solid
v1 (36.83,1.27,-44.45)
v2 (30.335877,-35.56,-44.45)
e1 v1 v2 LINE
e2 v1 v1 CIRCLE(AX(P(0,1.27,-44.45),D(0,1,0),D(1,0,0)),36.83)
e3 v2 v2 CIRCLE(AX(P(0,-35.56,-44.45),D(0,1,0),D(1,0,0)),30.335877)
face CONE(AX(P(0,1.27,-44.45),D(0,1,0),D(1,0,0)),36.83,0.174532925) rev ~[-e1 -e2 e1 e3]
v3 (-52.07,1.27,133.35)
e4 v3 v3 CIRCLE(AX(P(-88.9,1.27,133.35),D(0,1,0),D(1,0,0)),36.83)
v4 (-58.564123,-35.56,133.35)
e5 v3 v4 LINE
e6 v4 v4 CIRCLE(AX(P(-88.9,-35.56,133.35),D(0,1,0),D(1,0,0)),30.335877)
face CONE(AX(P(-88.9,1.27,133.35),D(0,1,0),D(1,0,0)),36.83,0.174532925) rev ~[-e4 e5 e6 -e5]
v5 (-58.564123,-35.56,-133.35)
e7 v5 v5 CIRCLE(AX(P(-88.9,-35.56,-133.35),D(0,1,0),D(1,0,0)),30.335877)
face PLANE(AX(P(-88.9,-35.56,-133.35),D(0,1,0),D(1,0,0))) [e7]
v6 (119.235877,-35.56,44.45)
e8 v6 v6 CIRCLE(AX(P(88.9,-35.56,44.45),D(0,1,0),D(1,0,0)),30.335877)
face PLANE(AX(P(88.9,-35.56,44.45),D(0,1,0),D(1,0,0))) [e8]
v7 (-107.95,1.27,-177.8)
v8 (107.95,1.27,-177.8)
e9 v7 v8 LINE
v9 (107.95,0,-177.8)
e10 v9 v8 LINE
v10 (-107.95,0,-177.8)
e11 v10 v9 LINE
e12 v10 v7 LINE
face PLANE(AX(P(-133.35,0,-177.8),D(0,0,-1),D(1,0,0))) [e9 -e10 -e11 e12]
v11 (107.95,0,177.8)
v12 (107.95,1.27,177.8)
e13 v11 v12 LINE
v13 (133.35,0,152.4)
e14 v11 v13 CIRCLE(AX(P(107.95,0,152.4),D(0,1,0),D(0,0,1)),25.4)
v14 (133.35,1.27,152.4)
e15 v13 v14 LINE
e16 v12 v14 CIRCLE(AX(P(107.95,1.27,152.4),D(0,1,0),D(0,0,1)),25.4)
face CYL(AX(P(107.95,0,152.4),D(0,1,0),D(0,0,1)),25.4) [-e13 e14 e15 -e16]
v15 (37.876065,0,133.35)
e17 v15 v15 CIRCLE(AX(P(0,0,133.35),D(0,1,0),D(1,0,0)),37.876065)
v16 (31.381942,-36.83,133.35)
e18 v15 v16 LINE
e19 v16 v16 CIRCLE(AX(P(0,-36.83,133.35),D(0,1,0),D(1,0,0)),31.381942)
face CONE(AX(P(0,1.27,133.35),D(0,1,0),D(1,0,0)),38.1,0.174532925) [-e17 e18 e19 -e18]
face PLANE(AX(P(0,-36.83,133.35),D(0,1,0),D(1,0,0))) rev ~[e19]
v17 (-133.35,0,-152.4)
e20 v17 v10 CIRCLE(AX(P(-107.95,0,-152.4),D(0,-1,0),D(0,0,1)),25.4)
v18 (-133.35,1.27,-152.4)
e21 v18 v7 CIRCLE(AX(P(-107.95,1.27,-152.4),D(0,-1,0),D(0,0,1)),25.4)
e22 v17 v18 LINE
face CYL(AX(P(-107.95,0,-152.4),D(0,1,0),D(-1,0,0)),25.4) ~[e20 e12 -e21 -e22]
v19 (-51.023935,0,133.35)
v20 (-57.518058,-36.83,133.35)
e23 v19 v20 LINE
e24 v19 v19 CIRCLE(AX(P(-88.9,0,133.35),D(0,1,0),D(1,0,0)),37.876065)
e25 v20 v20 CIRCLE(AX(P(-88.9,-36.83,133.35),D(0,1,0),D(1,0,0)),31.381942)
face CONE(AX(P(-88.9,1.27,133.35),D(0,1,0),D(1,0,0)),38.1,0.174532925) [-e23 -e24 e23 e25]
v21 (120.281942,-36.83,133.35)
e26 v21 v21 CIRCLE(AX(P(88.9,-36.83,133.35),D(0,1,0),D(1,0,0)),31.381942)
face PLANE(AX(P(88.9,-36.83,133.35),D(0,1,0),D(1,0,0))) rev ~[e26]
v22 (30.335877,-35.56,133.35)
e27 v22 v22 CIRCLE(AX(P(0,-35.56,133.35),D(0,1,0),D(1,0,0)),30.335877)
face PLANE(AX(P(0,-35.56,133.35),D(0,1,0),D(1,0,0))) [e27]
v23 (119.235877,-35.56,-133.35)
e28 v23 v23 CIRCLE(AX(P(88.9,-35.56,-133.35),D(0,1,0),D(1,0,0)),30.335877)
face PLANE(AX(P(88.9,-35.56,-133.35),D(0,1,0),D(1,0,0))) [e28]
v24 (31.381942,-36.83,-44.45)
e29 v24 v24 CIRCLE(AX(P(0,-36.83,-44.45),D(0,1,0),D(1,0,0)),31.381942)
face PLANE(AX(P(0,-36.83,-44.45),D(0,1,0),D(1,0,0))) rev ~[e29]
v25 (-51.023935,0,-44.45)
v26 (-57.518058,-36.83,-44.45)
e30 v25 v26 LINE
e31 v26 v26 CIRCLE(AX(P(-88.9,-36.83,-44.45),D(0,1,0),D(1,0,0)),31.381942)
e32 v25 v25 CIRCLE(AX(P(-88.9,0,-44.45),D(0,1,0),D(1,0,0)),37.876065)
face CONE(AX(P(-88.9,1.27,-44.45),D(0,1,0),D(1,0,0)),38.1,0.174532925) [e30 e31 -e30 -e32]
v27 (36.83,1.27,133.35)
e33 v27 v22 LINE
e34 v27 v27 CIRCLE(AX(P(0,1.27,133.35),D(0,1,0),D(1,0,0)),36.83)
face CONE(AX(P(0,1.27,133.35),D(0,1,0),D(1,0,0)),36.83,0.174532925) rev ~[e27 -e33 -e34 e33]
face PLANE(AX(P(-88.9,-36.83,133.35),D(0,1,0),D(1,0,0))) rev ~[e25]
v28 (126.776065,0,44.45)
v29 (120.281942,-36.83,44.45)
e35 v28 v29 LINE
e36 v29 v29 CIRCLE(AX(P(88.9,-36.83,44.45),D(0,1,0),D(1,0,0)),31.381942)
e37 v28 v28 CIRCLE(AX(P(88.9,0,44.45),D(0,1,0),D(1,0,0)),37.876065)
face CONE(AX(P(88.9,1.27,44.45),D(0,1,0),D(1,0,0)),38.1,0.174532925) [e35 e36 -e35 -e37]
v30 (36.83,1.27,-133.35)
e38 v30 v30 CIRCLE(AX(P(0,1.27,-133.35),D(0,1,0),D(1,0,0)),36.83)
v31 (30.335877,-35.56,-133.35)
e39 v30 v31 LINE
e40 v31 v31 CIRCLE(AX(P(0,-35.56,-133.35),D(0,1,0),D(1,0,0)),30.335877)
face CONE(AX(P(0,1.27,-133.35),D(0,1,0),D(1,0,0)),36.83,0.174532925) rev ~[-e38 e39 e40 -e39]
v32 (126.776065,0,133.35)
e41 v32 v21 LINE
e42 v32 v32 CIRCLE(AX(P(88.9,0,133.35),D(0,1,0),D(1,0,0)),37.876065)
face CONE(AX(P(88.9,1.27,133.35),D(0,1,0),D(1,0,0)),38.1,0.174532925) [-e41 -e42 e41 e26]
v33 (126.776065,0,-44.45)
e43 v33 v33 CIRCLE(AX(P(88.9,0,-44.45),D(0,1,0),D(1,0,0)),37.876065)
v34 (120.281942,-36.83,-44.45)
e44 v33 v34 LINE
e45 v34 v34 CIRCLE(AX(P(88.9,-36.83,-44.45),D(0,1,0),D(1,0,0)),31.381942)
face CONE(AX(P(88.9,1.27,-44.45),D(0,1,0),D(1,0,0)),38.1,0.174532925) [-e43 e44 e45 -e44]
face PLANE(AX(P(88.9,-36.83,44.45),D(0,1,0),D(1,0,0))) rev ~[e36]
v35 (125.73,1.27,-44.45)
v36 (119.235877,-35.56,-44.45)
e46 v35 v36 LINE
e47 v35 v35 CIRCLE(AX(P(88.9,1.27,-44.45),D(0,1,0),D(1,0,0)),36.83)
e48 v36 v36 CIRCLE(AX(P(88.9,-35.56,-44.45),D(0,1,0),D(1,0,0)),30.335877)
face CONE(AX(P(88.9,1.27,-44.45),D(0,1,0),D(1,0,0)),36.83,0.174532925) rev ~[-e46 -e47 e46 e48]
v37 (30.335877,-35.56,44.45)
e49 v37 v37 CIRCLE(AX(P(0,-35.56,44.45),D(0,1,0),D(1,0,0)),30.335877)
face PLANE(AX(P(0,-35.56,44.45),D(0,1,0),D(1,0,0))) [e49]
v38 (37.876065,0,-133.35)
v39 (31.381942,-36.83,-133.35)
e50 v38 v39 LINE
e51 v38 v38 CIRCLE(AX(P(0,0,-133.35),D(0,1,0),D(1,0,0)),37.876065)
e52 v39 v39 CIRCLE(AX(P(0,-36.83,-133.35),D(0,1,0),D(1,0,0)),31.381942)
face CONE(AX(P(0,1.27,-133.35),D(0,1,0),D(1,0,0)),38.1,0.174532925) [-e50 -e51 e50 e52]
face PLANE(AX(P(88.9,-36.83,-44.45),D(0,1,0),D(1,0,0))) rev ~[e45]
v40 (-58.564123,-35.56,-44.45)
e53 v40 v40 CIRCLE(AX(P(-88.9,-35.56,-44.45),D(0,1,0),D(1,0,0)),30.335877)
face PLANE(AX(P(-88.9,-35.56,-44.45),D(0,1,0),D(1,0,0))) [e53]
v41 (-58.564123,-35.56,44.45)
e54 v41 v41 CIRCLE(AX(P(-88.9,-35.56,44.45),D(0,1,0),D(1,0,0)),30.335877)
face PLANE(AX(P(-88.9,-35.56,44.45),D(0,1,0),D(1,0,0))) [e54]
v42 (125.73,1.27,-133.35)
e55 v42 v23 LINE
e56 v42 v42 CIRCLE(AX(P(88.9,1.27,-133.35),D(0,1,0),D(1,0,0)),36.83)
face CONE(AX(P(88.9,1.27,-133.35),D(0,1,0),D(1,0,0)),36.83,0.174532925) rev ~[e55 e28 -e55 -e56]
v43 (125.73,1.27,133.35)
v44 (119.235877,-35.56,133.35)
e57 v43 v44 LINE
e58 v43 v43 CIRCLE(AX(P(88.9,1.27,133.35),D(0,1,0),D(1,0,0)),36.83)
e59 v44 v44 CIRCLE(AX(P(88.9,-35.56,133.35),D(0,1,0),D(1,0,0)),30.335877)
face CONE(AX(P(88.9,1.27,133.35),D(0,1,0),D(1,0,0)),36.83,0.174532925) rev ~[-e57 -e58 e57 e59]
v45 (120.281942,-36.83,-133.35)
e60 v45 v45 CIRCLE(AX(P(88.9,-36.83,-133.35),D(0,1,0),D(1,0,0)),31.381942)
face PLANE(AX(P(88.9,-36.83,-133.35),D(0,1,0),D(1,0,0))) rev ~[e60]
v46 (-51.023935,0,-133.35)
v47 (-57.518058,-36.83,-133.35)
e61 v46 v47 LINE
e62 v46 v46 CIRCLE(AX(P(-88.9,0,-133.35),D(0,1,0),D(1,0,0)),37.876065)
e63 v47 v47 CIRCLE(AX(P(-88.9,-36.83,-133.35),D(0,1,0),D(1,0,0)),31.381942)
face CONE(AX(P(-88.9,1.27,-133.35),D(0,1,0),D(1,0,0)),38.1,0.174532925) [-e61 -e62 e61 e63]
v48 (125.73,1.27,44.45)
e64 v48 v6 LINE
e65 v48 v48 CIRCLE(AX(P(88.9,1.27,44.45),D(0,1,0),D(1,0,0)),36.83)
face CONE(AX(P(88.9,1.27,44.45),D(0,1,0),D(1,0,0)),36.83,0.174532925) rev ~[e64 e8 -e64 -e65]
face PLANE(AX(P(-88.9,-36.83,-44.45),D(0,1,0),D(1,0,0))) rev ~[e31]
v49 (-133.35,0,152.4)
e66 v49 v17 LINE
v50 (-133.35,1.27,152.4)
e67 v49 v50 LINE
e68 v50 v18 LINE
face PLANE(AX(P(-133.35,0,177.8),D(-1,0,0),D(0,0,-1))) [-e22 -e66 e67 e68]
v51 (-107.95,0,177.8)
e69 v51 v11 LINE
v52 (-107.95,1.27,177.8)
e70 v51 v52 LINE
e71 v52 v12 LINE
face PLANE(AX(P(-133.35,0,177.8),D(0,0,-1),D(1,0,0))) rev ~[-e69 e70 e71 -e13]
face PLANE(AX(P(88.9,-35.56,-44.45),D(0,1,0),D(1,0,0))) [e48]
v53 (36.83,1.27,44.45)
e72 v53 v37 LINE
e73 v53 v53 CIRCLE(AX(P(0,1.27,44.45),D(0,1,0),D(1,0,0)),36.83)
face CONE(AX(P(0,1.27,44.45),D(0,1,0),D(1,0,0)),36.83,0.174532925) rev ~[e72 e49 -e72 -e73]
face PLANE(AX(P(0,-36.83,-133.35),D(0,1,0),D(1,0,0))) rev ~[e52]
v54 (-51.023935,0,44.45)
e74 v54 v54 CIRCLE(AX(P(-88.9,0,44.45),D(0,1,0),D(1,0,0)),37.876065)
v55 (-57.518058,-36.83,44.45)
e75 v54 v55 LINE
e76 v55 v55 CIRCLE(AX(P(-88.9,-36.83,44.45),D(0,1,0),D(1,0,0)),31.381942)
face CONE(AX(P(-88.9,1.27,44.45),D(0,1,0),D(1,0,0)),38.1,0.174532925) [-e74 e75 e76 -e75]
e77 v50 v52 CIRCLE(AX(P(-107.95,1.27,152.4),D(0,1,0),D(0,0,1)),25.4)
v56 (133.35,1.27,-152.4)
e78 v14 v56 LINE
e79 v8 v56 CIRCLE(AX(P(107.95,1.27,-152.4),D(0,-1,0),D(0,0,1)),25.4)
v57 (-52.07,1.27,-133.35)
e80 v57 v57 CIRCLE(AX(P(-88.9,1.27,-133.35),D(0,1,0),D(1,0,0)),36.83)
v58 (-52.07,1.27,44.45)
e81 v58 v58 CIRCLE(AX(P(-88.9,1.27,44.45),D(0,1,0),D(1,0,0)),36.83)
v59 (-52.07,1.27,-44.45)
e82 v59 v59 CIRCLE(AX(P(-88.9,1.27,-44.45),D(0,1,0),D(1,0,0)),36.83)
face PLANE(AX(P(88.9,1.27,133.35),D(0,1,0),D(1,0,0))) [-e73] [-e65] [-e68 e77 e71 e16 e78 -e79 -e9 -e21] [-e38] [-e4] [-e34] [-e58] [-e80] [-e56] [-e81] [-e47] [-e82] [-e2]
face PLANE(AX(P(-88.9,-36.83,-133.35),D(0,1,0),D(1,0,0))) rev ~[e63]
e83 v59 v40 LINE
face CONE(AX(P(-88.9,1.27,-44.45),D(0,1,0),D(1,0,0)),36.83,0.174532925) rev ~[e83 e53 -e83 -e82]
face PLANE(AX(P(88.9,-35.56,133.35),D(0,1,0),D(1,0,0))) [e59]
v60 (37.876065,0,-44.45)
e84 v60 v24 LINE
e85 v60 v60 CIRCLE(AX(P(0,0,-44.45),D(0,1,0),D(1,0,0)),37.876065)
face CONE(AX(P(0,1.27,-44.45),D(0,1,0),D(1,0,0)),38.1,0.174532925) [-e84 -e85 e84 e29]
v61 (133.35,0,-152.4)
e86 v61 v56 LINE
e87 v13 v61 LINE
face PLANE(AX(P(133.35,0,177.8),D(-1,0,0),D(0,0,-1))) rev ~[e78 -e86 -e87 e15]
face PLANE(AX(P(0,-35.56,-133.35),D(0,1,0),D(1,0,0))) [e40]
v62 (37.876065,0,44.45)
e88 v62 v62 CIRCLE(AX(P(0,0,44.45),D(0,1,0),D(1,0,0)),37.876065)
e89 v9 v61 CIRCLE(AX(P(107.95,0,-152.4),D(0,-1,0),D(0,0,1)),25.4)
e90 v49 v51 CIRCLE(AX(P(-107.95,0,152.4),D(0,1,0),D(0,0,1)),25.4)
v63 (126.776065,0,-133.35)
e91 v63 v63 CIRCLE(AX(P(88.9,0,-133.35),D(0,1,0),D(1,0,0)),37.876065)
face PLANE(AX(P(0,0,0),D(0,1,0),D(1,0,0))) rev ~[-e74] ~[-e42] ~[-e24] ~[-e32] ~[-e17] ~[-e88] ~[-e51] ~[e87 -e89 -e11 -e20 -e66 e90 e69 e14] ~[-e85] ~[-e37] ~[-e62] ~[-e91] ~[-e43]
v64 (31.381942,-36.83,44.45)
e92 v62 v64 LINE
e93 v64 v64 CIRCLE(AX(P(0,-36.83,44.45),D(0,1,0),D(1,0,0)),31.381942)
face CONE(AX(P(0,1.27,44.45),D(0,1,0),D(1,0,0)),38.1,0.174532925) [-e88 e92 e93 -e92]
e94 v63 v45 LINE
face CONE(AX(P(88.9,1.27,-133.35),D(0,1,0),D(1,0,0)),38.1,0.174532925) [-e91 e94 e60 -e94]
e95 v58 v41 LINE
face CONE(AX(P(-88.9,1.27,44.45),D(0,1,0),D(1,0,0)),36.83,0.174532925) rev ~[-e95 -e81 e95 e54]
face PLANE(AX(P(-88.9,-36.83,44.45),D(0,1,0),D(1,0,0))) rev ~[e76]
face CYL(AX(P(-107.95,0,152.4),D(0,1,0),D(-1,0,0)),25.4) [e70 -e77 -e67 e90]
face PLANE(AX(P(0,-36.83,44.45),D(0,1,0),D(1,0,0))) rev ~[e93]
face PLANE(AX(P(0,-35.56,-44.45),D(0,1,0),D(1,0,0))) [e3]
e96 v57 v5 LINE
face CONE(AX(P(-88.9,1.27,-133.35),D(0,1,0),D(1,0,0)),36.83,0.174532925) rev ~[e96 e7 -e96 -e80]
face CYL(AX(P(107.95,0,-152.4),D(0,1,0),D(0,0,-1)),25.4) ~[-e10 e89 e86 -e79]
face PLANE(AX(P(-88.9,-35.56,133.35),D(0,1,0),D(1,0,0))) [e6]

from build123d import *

# Parameters (mm, degrees)
SKETCH1_W                  = 266.7
SKETCH1_H                  = 355.6
BOSS_EXTRUDE1_DEPTH        = 1.27
SKETCH2_R                  = 38.1
BOSS_EXTRUDE3_DEPTH        = 38.1
BOSS_EXTRUDE3_DRAFT        = -10
SKETCH5_R                  = 36.83
CUT_EXTRUDE2_DEPTH         = 36.83
CUT_EXTRUDE2_DRAFT         = -10
LPATTERN1_COPY_1_SKETCH_R  = 38.1
LPATTERN1_COPY_1_DEPTH     = 38.1
LPATTERN1_COPY_1_DRAFT     = -10
LPATTERN1_COPY_2_SKETCH_R  = 38.1
LPATTERN1_COPY_2_DEPTH     = 38.1
LPATTERN1_COPY_2_DRAFT     = -10
LPATTERN1_COPY_3_SKETCH_R  = 38.1
LPATTERN1_COPY_3_DEPTH     = 38.1
LPATTERN1_COPY_3_DRAFT     = -10
LPATTERN1_COPY_4_SKETCH_R  = 38.1
LPATTERN1_COPY_4_DEPTH     = 38.1
LPATTERN1_COPY_4_DRAFT     = -10
LPATTERN1_COPY_5_SKETCH_R  = 38.1
LPATTERN1_COPY_5_DEPTH     = 38.1
LPATTERN1_COPY_5_DRAFT     = -10
LPATTERN1_COPY_6_SKETCH_R  = 38.1
LPATTERN1_COPY_6_DEPTH     = 38.1
LPATTERN1_COPY_6_DRAFT     = -10
LPATTERN1_COPY_7_SKETCH_R  = 38.1
LPATTERN1_COPY_7_DEPTH     = 38.1
LPATTERN1_COPY_7_DRAFT     = -10
LPATTERN1_COPY_8_SKETCH_R  = 38.1
LPATTERN1_COPY_8_DEPTH     = 38.1
LPATTERN1_COPY_8_DRAFT     = -10
LPATTERN1_COPY_9_SKETCH_R  = 38.1
LPATTERN1_COPY_9_DEPTH     = 38.1
LPATTERN1_COPY_9_DRAFT     = -10
LPATTERN1_COPY_10_SKETCH_R = 38.1
LPATTERN1_COPY_10_DEPTH    = 38.1
LPATTERN1_COPY_10_DRAFT    = -10
LPATTERN1_COPY_11_SKETCH_R = 38.1
LPATTERN1_COPY_11_DEPTH    = 38.1
LPATTERN1_COPY_11_DRAFT    = -10
LPATTERN1_COPY_12_SKETCH_R = 36.83
LPATTERN1_COPY_12_DEPTH    = 36.83
LPATTERN1_COPY_12_DRAFT    = -10
LPATTERN1_COPY_13_SKETCH_R = 36.83
LPATTERN1_COPY_13_DEPTH    = 36.83
LPATTERN1_COPY_13_DRAFT    = -10
LPATTERN1_COPY_14_SKETCH_R = 36.83
LPATTERN1_COPY_14_DEPTH    = 36.83
LPATTERN1_COPY_14_DRAFT    = -10
LPATTERN1_COPY_15_SKETCH_R = 36.83
LPATTERN1_COPY_15_DEPTH    = 36.83
LPATTERN1_COPY_15_DRAFT    = -10
LPATTERN1_COPY_16_SKETCH_R = 36.83
LPATTERN1_COPY_16_DEPTH    = 36.83
LPATTERN1_COPY_16_DRAFT    = -10
LPATTERN1_COPY_17_SKETCH_R = 36.83
LPATTERN1_COPY_17_DEPTH    = 36.83
LPATTERN1_COPY_17_DRAFT    = -10
LPATTERN1_COPY_18_SKETCH_R = 36.83
LPATTERN1_COPY_18_DEPTH    = 36.83
LPATTERN1_COPY_18_DRAFT    = -10
LPATTERN1_COPY_19_SKETCH_R = 36.83
LPATTERN1_COPY_19_DEPTH    = 36.83
LPATTERN1_COPY_19_DRAFT    = -10
LPATTERN1_COPY_20_SKETCH_R = 36.83
LPATTERN1_COPY_20_DEPTH    = 36.83
LPATTERN1_COPY_20_DRAFT    = -10
LPATTERN1_COPY_21_SKETCH_R = 36.83
LPATTERN1_COPY_21_DEPTH    = 36.83
LPATTERN1_COPY_21_DRAFT    = -10
LPATTERN1_COPY_22_SKETCH_R = 36.83
LPATTERN1_COPY_22_DEPTH    = 36.83
LPATTERN1_COPY_22_DRAFT    = -10
FILLET1_R                  = 25.4


with BuildPart() as part:
    # Sketch1 → Boss-Extrude1 (new body)
    with BuildSketch(Plane(origin=(0, 0, 0), x_dir=(1, 0, 0), z_dir=(0, 1, 0))):
        Rectangle(SKETCH1_W, SKETCH1_H)
    extrude(amount=BOSS_EXTRUDE1_DEPTH)


with BuildPart() as boss_extrude3_tool:
    # Sketch2 → Boss-Extrude3 (with draft: the straight prism first)
    with BuildSketch(Plane(origin=(0, 1.27, 0), x_dir=(1, 0, 0), z_dir=(0, 1, 0))):
        with Locations((-88.9, 133.35)):
            Circle(SKETCH2_R)
    extrude(amount=-BOSS_EXTRUDE3_DEPTH)
    # Boss-Extrude3: the draft: its side faces are tilted about the plane it starts from
    boss_extrude3_sides = [boss_extrude3_tool.faces().sort_by_distance(p)[0] for p in [
        (-127, -17.78, -133.35),
    ]]
    draft(boss_extrude3_sides, Plane(origin=(0, 1.27, 0), x_dir=(1, 0, 0), z_dir=(0, 1, 0)), BOSS_EXTRUDE3_DRAFT)


with BuildPart() as part_1:
    add(part.part)

    # Boss-Extrude3: add boss_extrude3_tool
    add(boss_extrude3_tool.part)


with BuildPart() as cut_extrude2_tool:
    # Sketch5 → Cut-Extrude2 (with draft: the straight prism first)
    with BuildSketch(Plane(origin=(0, 1.27, 0), x_dir=(1, 0, 0), z_dir=(0, 1, 0))):
        with Locations((-88.9, 133.35)):
            Circle(SKETCH5_R)
    extrude(amount=-CUT_EXTRUDE2_DEPTH)
    # Cut-Extrude2: the draft: its side faces are tilted about the plane it starts from
    cut_extrude2_sides = [cut_extrude2_tool.faces().sort_by_distance(p)[0] for p in [
        (-125.73, -17.145, -133.35),
    ]]
    draft(cut_extrude2_sides, Plane(origin=(0, 1.27, 0), x_dir=(1, 0, 0), z_dir=(0, 1, 0)), CUT_EXTRUDE2_DRAFT)


with BuildPart() as part_2:
    add(part_1.part)

    # Cut-Extrude2: cut by cut_extrude2_tool
    add(cut_extrude2_tool.part, mode=Mode.SUBTRACT)


with BuildPart() as lpattern1_copy_1_tool:
    # LPattern1 copy 1 sketch → LPattern1 copy 1 (with draft: the straight prism first)
    with BuildSketch(Plane(origin=(0, 1.27, 88.9), x_dir=(1, 0, 0), z_dir=(0, 1, 0))):
        with Locations((-88.9, 133.35)):
            Circle(LPATTERN1_COPY_1_SKETCH_R)
    extrude(amount=-LPATTERN1_COPY_1_DEPTH)
    # LPattern1 copy 1: the draft: its side faces are tilted about the plane it starts from
    lpattern1_copy_1_sides = [lpattern1_copy_1_tool.faces().sort_by_distance(p)[0] for p in [
        (-127, -17.78, -44.45),
    ]]
    draft(lpattern1_copy_1_sides, Plane(origin=(0, 1.27, 88.9), x_dir=(1, 0, 0), z_dir=(0, 1, 0)), LPATTERN1_COPY_1_DRAFT)


with BuildPart() as part_3:
    add(part_2.part)

    # LPattern1 copy 1: add lpattern1_copy_1_tool
    add(lpattern1_copy_1_tool.part)


with BuildPart() as lpattern1_copy_2_tool:
    # LPattern1 copy 2 sketch → LPattern1 copy 2 (with draft: the straight prism first)
    with BuildSketch(Plane(origin=(0, 1.27, 177.8), x_dir=(1, 0, 0), z_dir=(0, 1, 0))):
        with Locations((-88.9, 133.35)):
            Circle(LPATTERN1_COPY_2_SKETCH_R)
    extrude(amount=-LPATTERN1_COPY_2_DEPTH)
    # LPattern1 copy 2: the draft: its side faces are tilted about the plane it starts from
    lpattern1_copy_2_sides = [lpattern1_copy_2_tool.faces().sort_by_distance(p)[0] for p in [
        (-127, -17.78, 44.45),
    ]]
    draft(lpattern1_copy_2_sides, Plane(origin=(0, 1.27, 177.8), x_dir=(1, 0, 0), z_dir=(0, 1, 0)), LPATTERN1_COPY_2_DRAFT)


with BuildPart() as part_4:
    add(part_3.part)

    # LPattern1 copy 2: add lpattern1_copy_2_tool
    add(lpattern1_copy_2_tool.part)


with BuildPart() as lpattern1_copy_3_tool:
    # LPattern1 copy 3 sketch → LPattern1 copy 3 (with draft: the straight prism first)
    with BuildSketch(Plane(origin=(0, 1.27, 266.7), x_dir=(1, 0, 0), z_dir=(0, 1, 0))):
        with Locations((-88.9, 133.35)):
            Circle(LPATTERN1_COPY_3_SKETCH_R)
    extrude(amount=-LPATTERN1_COPY_3_DEPTH)
    # LPattern1 copy 3: the draft: its side faces are tilted about the plane it starts from
    lpattern1_copy_3_sides = [lpattern1_copy_3_tool.faces().sort_by_distance(p)[0] for p in [
        (-127, -17.78, 133.35),
    ]]
    draft(lpattern1_copy_3_sides, Plane(origin=(0, 1.27, 266.7), x_dir=(1, 0, 0), z_dir=(0, 1, 0)), LPATTERN1_COPY_3_DRAFT)


with BuildPart() as part_5:
    add(part_4.part)

    # LPattern1 copy 3: add lpattern1_copy_3_tool
    add(lpattern1_copy_3_tool.part)


with BuildPart() as lpattern1_copy_4_tool:
    # LPattern1 copy 4 sketch → LPattern1 copy 4 (with draft: the straight prism first)
    with BuildSketch(Plane(origin=(88.9, 1.27, 0), x_dir=(1, 0, 0), z_dir=(0, 1, 0))):
        with Locations((-88.9, 133.35)):
            Circle(LPATTERN1_COPY_4_SKETCH_R)
    extrude(amount=-LPATTERN1_COPY_4_DEPTH)
    # LPattern1 copy 4: the draft: its side faces are tilted about the plane it starts from
    lpattern1_copy_4_sides = [lpattern1_copy_4_tool.faces().sort_by_distance(p)[0] for p in [
        (-38.1, -17.78, -133.35),
    ]]
    draft(lpattern1_copy_4_sides, Plane(origin=(88.9, 1.27, 0), x_dir=(1, 0, 0), z_dir=(0, 1, 0)), LPATTERN1_COPY_4_DRAFT)


with BuildPart() as part_6:
    add(part_5.part)

    # LPattern1 copy 4: add lpattern1_copy_4_tool
    add(lpattern1_copy_4_tool.part)


with BuildPart() as lpattern1_copy_5_tool:
    # LPattern1 copy 5 sketch → LPattern1 copy 5 (with draft: the straight prism first)
    with BuildSketch(Plane(origin=(88.9, 1.27, 88.9), x_dir=(1, 0, 0), z_dir=(0, 1, 0))):
        with Locations((-88.9, 133.35)):
            Circle(LPATTERN1_COPY_5_SKETCH_R)
    extrude(amount=-LPATTERN1_COPY_5_DEPTH)
    # LPattern1 copy 5: the draft: its side faces are tilted about the plane it starts from
    lpattern1_copy_5_sides = [lpattern1_copy_5_tool.faces().sort_by_distance(p)[0] for p in [
        (-38.1, -17.78, -44.45),
    ]]
    draft(lpattern1_copy_5_sides, Plane(origin=(88.9, 1.27, 88.9), x_dir=(1, 0, 0), z_dir=(0, 1, 0)), LPATTERN1_COPY_5_DRAFT)


with BuildPart() as part_7:
    add(part_6.part)

    # LPattern1 copy 5: add lpattern1_copy_5_tool
    add(lpattern1_copy_5_tool.part)


with BuildPart() as lpattern1_copy_6_tool:
    # LPattern1 copy 6 sketch → LPattern1 copy 6 (with draft: the straight prism first)
    with BuildSketch(Plane(origin=(88.9, 1.27, 177.8), x_dir=(1, 0, 0), z_dir=(0, 1, 0))):
        with Locations((-88.9, 133.35)):
            Circle(LPATTERN1_COPY_6_SKETCH_R)
    extrude(amount=-LPATTERN1_COPY_6_DEPTH)
    # LPattern1 copy 6: the draft: its side faces are tilted about the plane it starts from
    lpattern1_copy_6_sides = [lpattern1_copy_6_tool.faces().sort_by_distance(p)[0] for p in [
        (-38.1, -17.78, 44.45),
    ]]
    draft(lpattern1_copy_6_sides, Plane(origin=(88.9, 1.27, 177.8), x_dir=(1, 0, 0), z_dir=(0, 1, 0)), LPATTERN1_COPY_6_DRAFT)


with BuildPart() as part_8:
    add(part_7.part)

    # LPattern1 copy 6: add lpattern1_copy_6_tool
    add(lpattern1_copy_6_tool.part)


with BuildPart() as lpattern1_copy_7_tool:
    # LPattern1 copy 7 sketch → LPattern1 copy 7 (with draft: the straight prism first)
    with BuildSketch(Plane(origin=(88.9, 1.27, 266.7), x_dir=(1, 0, 0), z_dir=(0, 1, 0))):
        with Locations((-88.9, 133.35)):
            Circle(LPATTERN1_COPY_7_SKETCH_R)
    extrude(amount=-LPATTERN1_COPY_7_DEPTH)
    # LPattern1 copy 7: the draft: its side faces are tilted about the plane it starts from
    lpattern1_copy_7_sides = [lpattern1_copy_7_tool.faces().sort_by_distance(p)[0] for p in [
        (-38.1, -17.78, 133.35),
    ]]
    draft(lpattern1_copy_7_sides, Plane(origin=(88.9, 1.27, 266.7), x_dir=(1, 0, 0), z_dir=(0, 1, 0)), LPATTERN1_COPY_7_DRAFT)


with BuildPart() as part_9:
    add(part_8.part)

    # LPattern1 copy 7: add lpattern1_copy_7_tool
    add(lpattern1_copy_7_tool.part)


with BuildPart() as lpattern1_copy_8_tool:
    # LPattern1 copy 8 sketch → LPattern1 copy 8 (with draft: the straight prism first)
    with BuildSketch(Plane(origin=(177.8, 1.27, 0), x_dir=(1, 0, 0), z_dir=(0, 1, 0))):
        with Locations((-88.9, 133.35)):
            Circle(LPATTERN1_COPY_8_SKETCH_R)
    extrude(amount=-LPATTERN1_COPY_8_DEPTH)
    # LPattern1 copy 8: the draft: its side faces are tilted about the plane it starts from
    lpattern1_copy_8_sides = [lpattern1_copy_8_tool.faces().sort_by_distance(p)[0] for p in [
        (50.8, -17.78, -133.35),
    ]]
    draft(lpattern1_copy_8_sides, Plane(origin=(177.8, 1.27, 0), x_dir=(1, 0, 0), z_dir=(0, 1, 0)), LPATTERN1_COPY_8_DRAFT)


with BuildPart() as part_10:
    add(part_9.part)

    # LPattern1 copy 8: add lpattern1_copy_8_tool
    add(lpattern1_copy_8_tool.part)


with BuildPart() as lpattern1_copy_9_tool:
    # LPattern1 copy 9 sketch → LPattern1 copy 9 (with draft: the straight prism first)
    with BuildSketch(Plane(origin=(177.8, 1.27, 88.9), x_dir=(1, 0, 0), z_dir=(0, 1, 0))):
        with Locations((-88.9, 133.35)):
            Circle(LPATTERN1_COPY_9_SKETCH_R)
    extrude(amount=-LPATTERN1_COPY_9_DEPTH)
    # LPattern1 copy 9: the draft: its side faces are tilted about the plane it starts from
    lpattern1_copy_9_sides = [lpattern1_copy_9_tool.faces().sort_by_distance(p)[0] for p in [
        (50.8, -17.78, -44.45),
    ]]
    draft(lpattern1_copy_9_sides, Plane(origin=(177.8, 1.27, 88.9), x_dir=(1, 0, 0), z_dir=(0, 1, 0)), LPATTERN1_COPY_9_DRAFT)


with BuildPart() as part_11:
    add(part_10.part)

    # LPattern1 copy 9: add lpattern1_copy_9_tool
    add(lpattern1_copy_9_tool.part)


with BuildPart() as lpattern1_copy_10_tool:
    # LPattern1 copy 10 sketch → LPattern1 copy 10 (with draft: the straight prism first)
    with BuildSketch(Plane(origin=(177.8, 1.27, 177.8), x_dir=(1, 0, 0), z_dir=(0, 1, 0))):
        with Locations((-88.9, 133.35)):
            Circle(LPATTERN1_COPY_10_SKETCH_R)
    extrude(amount=-LPATTERN1_COPY_10_DEPTH)
    # LPattern1 copy 10: the draft: its side faces are tilted about the plane it starts from
    lpattern1_copy_10_sides = [lpattern1_copy_10_tool.faces().sort_by_distance(p)[0] for p in [
        (50.8, -17.78, 44.45),
    ]]
    draft(lpattern1_copy_10_sides, Plane(origin=(177.8, 1.27, 177.8), x_dir=(1, 0, 0), z_dir=(0, 1, 0)), LPATTERN1_COPY_10_DRAFT)


with BuildPart() as part_12:
    add(part_11.part)

    # LPattern1 copy 10: add lpattern1_copy_10_tool
    add(lpattern1_copy_10_tool.part)


with BuildPart() as lpattern1_copy_11_tool:
    # LPattern1 copy 11 sketch → LPattern1 copy 11 (with draft: the straight prism first)
    with BuildSketch(Plane(origin=(177.8, 1.27, 266.7), x_dir=(1, 0, 0), z_dir=(0, 1, 0))):
        with Locations((-88.9, 133.35)):
            Circle(LPATTERN1_COPY_11_SKETCH_R)
    extrude(amount=-LPATTERN1_COPY_11_DEPTH)
    # LPattern1 copy 11: the draft: its side faces are tilted about the plane it starts from
    lpattern1_copy_11_sides = [lpattern1_copy_11_tool.faces().sort_by_distance(p)[0] for p in [
        (50.8, -17.78, 133.35),
    ]]
    draft(lpattern1_copy_11_sides, Plane(origin=(177.8, 1.27, 266.7), x_dir=(1, 0, 0), z_dir=(0, 1, 0)), LPATTERN1_COPY_11_DRAFT)


with BuildPart() as part_13:
    add(part_12.part)

    # LPattern1 copy 11: add lpattern1_copy_11_tool
    add(lpattern1_copy_11_tool.part)


with BuildPart() as lpattern1_copy_12_tool:
    # LPattern1 copy 12 sketch → LPattern1 copy 12 (with draft: the straight prism first)
    with BuildSketch(Plane(origin=(0, 1.27, 88.9), x_dir=(1, 0, 0), z_dir=(0, 1, 0))):
        with Locations((-88.9, 133.35)):
            Circle(LPATTERN1_COPY_12_SKETCH_R)
    extrude(amount=-LPATTERN1_COPY_12_DEPTH)
    # LPattern1 copy 12: the draft: its side faces are tilted about the plane it starts from
    lpattern1_copy_12_sides = [lpattern1_copy_12_tool.faces().sort_by_distance(p)[0] for p in [
        (-125.73, -17.145, -44.45),
    ]]
    draft(lpattern1_copy_12_sides, Plane(origin=(0, 1.27, 88.9), x_dir=(1, 0, 0), z_dir=(0, 1, 0)), LPATTERN1_COPY_12_DRAFT)


with BuildPart() as part_14:
    add(part_13.part)

    # LPattern1 copy 12: cut by lpattern1_copy_12_tool
    add(lpattern1_copy_12_tool.part, mode=Mode.SUBTRACT)


with BuildPart() as lpattern1_copy_13_tool:
    # LPattern1 copy 13 sketch → LPattern1 copy 13 (with draft: the straight prism first)
    with BuildSketch(Plane(origin=(0, 1.27, 177.8), x_dir=(1, 0, 0), z_dir=(0, 1, 0))):
        with Locations((-88.9, 133.35)):
            Circle(LPATTERN1_COPY_13_SKETCH_R)
    extrude(amount=-LPATTERN1_COPY_13_DEPTH)
    # LPattern1 copy 13: the draft: its side faces are tilted about the plane it starts from
    lpattern1_copy_13_sides = [lpattern1_copy_13_tool.faces().sort_by_distance(p)[0] for p in [
        (-125.73, -17.145, 44.45),
    ]]
    draft(lpattern1_copy_13_sides, Plane(origin=(0, 1.27, 177.8), x_dir=(1, 0, 0), z_dir=(0, 1, 0)), LPATTERN1_COPY_13_DRAFT)


with BuildPart() as part_15:
    add(part_14.part)

    # LPattern1 copy 13: cut by lpattern1_copy_13_tool
    add(lpattern1_copy_13_tool.part, mode=Mode.SUBTRACT)


with BuildPart() as lpattern1_copy_14_tool:
    # LPattern1 copy 14 sketch → LPattern1 copy 14 (with draft: the straight prism first)
    with BuildSketch(Plane(origin=(0, 1.27, 266.7), x_dir=(1, 0, 0), z_dir=(0, 1, 0))):
        with Locations((-88.9, 133.35)):
            Circle(LPATTERN1_COPY_14_SKETCH_R)
    extrude(amount=-LPATTERN1_COPY_14_DEPTH)
    # LPattern1 copy 14: the draft: its side faces are tilted about the plane it starts from
    lpattern1_copy_14_sides = [lpattern1_copy_14_tool.faces().sort_by_distance(p)[0] for p in [
        (-125.73, -17.145, 133.35),
    ]]
    draft(lpattern1_copy_14_sides, Plane(origin=(0, 1.27, 266.7), x_dir=(1, 0, 0), z_dir=(0, 1, 0)), LPATTERN1_COPY_14_DRAFT)


with BuildPart() as part_16:
    add(part_15.part)

    # LPattern1 copy 14: cut by lpattern1_copy_14_tool
    add(lpattern1_copy_14_tool.part, mode=Mode.SUBTRACT)


with BuildPart() as lpattern1_copy_15_tool:
    # LPattern1 copy 15 sketch → LPattern1 copy 15 (with draft: the straight prism first)
    with BuildSketch(Plane(origin=(88.9, 1.27, 0), x_dir=(1, 0, 0), z_dir=(0, 1, 0))):
        with Locations((-88.9, 133.35)):
            Circle(LPATTERN1_COPY_15_SKETCH_R)
    extrude(amount=-LPATTERN1_COPY_15_DEPTH)
    # LPattern1 copy 15: the draft: its side faces are tilted about the plane it starts from
    lpattern1_copy_15_sides = [lpattern1_copy_15_tool.faces().sort_by_distance(p)[0] for p in [
        (-36.83, -17.145, -133.35),
    ]]
    draft(lpattern1_copy_15_sides, Plane(origin=(88.9, 1.27, 0), x_dir=(1, 0, 0), z_dir=(0, 1, 0)), LPATTERN1_COPY_15_DRAFT)


with BuildPart() as part_17:
    add(part_16.part)

    # LPattern1 copy 15: cut by lpattern1_copy_15_tool
    add(lpattern1_copy_15_tool.part, mode=Mode.SUBTRACT)


with BuildPart() as lpattern1_copy_16_tool:
    # LPattern1 copy 16 sketch → LPattern1 copy 16 (with draft: the straight prism first)
    with BuildSketch(Plane(origin=(88.9, 1.27, 88.9), x_dir=(1, 0, 0), z_dir=(0, 1, 0))):
        with Locations((-88.9, 133.35)):
            Circle(LPATTERN1_COPY_16_SKETCH_R)
    extrude(amount=-LPATTERN1_COPY_16_DEPTH)
    # LPattern1 copy 16: the draft: its side faces are tilted about the plane it starts from
    lpattern1_copy_16_sides = [lpattern1_copy_16_tool.faces().sort_by_distance(p)[0] for p in [
        (-36.83, -17.145, -44.45),
    ]]
    draft(lpattern1_copy_16_sides, Plane(origin=(88.9, 1.27, 88.9), x_dir=(1, 0, 0), z_dir=(0, 1, 0)), LPATTERN1_COPY_16_DRAFT)


with BuildPart() as part_18:
    add(part_17.part)

    # LPattern1 copy 16: cut by lpattern1_copy_16_tool
    add(lpattern1_copy_16_tool.part, mode=Mode.SUBTRACT)


with BuildPart() as lpattern1_copy_17_tool:
    # LPattern1 copy 17 sketch → LPattern1 copy 17 (with draft: the straight prism first)
    with BuildSketch(Plane(origin=(88.9, 1.27, 177.8), x_dir=(1, 0, 0), z_dir=(0, 1, 0))):
        with Locations((-88.9, 133.35)):
            Circle(LPATTERN1_COPY_17_SKETCH_R)
    extrude(amount=-LPATTERN1_COPY_17_DEPTH)
    # LPattern1 copy 17: the draft: its side faces are tilted about the plane it starts from
    lpattern1_copy_17_sides = [lpattern1_copy_17_tool.faces().sort_by_distance(p)[0] for p in [
        (-36.83, -17.145, 44.45),
    ]]
    draft(lpattern1_copy_17_sides, Plane(origin=(88.9, 1.27, 177.8), x_dir=(1, 0, 0), z_dir=(0, 1, 0)), LPATTERN1_COPY_17_DRAFT)


with BuildPart() as part_19:
    add(part_18.part)

    # LPattern1 copy 17: cut by lpattern1_copy_17_tool
    add(lpattern1_copy_17_tool.part, mode=Mode.SUBTRACT)


with BuildPart() as lpattern1_copy_18_tool:
    # LPattern1 copy 18 sketch → LPattern1 copy 18 (with draft: the straight prism first)
    with BuildSketch(Plane(origin=(88.9, 1.27, 266.7), x_dir=(1, 0, 0), z_dir=(0, 1, 0))):
        with Locations((-88.9, 133.35)):
            Circle(LPATTERN1_COPY_18_SKETCH_R)
    extrude(amount=-LPATTERN1_COPY_18_DEPTH)
    # LPattern1 copy 18: the draft: its side faces are tilted about the plane it starts from
    lpattern1_copy_18_sides = [lpattern1_copy_18_tool.faces().sort_by_distance(p)[0] for p in [
        (-36.83, -17.145, 133.35),
    ]]
    draft(lpattern1_copy_18_sides, Plane(origin=(88.9, 1.27, 266.7), x_dir=(1, 0, 0), z_dir=(0, 1, 0)), LPATTERN1_COPY_18_DRAFT)


with BuildPart() as part_20:
    add(part_19.part)

    # LPattern1 copy 18: cut by lpattern1_copy_18_tool
    add(lpattern1_copy_18_tool.part, mode=Mode.SUBTRACT)


with BuildPart() as lpattern1_copy_19_tool:
    # LPattern1 copy 19 sketch → LPattern1 copy 19 (with draft: the straight prism first)
    with BuildSketch(Plane(origin=(177.8, 1.27, 0), x_dir=(1, 0, 0), z_dir=(0, 1, 0))):
        with Locations((-88.9, 133.35)):
            Circle(LPATTERN1_COPY_19_SKETCH_R)
    extrude(amount=-LPATTERN1_COPY_19_DEPTH)
    # LPattern1 copy 19: the draft: its side faces are tilted about the plane it starts from
    lpattern1_copy_19_sides = [lpattern1_copy_19_tool.faces().sort_by_distance(p)[0] for p in [
        (52.07, -17.145, -133.35),
    ]]
    draft(lpattern1_copy_19_sides, Plane(origin=(177.8, 1.27, 0), x_dir=(1, 0, 0), z_dir=(0, 1, 0)), LPATTERN1_COPY_19_DRAFT)


with BuildPart() as part_21:
    add(part_20.part)

    # LPattern1 copy 19: cut by lpattern1_copy_19_tool
    add(lpattern1_copy_19_tool.part, mode=Mode.SUBTRACT)


with BuildPart() as lpattern1_copy_20_tool:
    # LPattern1 copy 20 sketch → LPattern1 copy 20 (with draft: the straight prism first)
    with BuildSketch(Plane(origin=(177.8, 1.27, 88.9), x_dir=(1, 0, 0), z_dir=(0, 1, 0))):
        with Locations((-88.9, 133.35)):
            Circle(LPATTERN1_COPY_20_SKETCH_R)
    extrude(amount=-LPATTERN1_COPY_20_DEPTH)
    # LPattern1 copy 20: the draft: its side faces are tilted about the plane it starts from
    lpattern1_copy_20_sides = [lpattern1_copy_20_tool.faces().sort_by_distance(p)[0] for p in [
        (52.07, -17.145, -44.45),
    ]]
    draft(lpattern1_copy_20_sides, Plane(origin=(177.8, 1.27, 88.9), x_dir=(1, 0, 0), z_dir=(0, 1, 0)), LPATTERN1_COPY_20_DRAFT)


with BuildPart() as part_22:
    add(part_21.part)

    # LPattern1 copy 20: cut by lpattern1_copy_20_tool
    add(lpattern1_copy_20_tool.part, mode=Mode.SUBTRACT)


with BuildPart() as lpattern1_copy_21_tool:
    # LPattern1 copy 21 sketch → LPattern1 copy 21 (with draft: the straight prism first)
    with BuildSketch(Plane(origin=(177.8, 1.27, 177.8), x_dir=(1, 0, 0), z_dir=(0, 1, 0))):
        with Locations((-88.9, 133.35)):
            Circle(LPATTERN1_COPY_21_SKETCH_R)
    extrude(amount=-LPATTERN1_COPY_21_DEPTH)
    # LPattern1 copy 21: the draft: its side faces are tilted about the plane it starts from
    lpattern1_copy_21_sides = [lpattern1_copy_21_tool.faces().sort_by_distance(p)[0] for p in [
        (52.07, -17.145, 44.45),
    ]]
    draft(lpattern1_copy_21_sides, Plane(origin=(177.8, 1.27, 177.8), x_dir=(1, 0, 0), z_dir=(0, 1, 0)), LPATTERN1_COPY_21_DRAFT)


with BuildPart() as part_23:
    add(part_22.part)

    # LPattern1 copy 21: cut by lpattern1_copy_21_tool
    add(lpattern1_copy_21_tool.part, mode=Mode.SUBTRACT)


with BuildPart() as lpattern1_copy_22_tool:
    # LPattern1 copy 22 sketch → LPattern1 copy 22 (with draft: the straight prism first)
    with BuildSketch(Plane(origin=(177.8, 1.27, 266.7), x_dir=(1, 0, 0), z_dir=(0, 1, 0))):
        with Locations((-88.9, 133.35)):
            Circle(LPATTERN1_COPY_22_SKETCH_R)
    extrude(amount=-LPATTERN1_COPY_22_DEPTH)
    # LPattern1 copy 22: the draft: its side faces are tilted about the plane it starts from
    lpattern1_copy_22_sides = [lpattern1_copy_22_tool.faces().sort_by_distance(p)[0] for p in [
        (52.07, -17.145, 133.35),
    ]]
    draft(lpattern1_copy_22_sides, Plane(origin=(177.8, 1.27, 266.7), x_dir=(1, 0, 0), z_dir=(0, 1, 0)), LPATTERN1_COPY_22_DRAFT)


with BuildPart() as part_24:
    add(part_23.part)

    # LPattern1 copy 22: cut by lpattern1_copy_22_tool
    add(lpattern1_copy_22_tool.part, mode=Mode.SUBTRACT)

    # Fillet1
    fillet1_edges = [part_24.edges().sort_by_distance(p)[0] for p in [
        (133.35, 0.635, 177.8),
        (-133.35, 0.635, 177.8),
        (-133.35, 0.635, -177.8),
        (133.35, 0.635, -177.8),
    ]]
    fillet(fillet1_edges, radius=FILLET1_R)


solid = part_24.part
